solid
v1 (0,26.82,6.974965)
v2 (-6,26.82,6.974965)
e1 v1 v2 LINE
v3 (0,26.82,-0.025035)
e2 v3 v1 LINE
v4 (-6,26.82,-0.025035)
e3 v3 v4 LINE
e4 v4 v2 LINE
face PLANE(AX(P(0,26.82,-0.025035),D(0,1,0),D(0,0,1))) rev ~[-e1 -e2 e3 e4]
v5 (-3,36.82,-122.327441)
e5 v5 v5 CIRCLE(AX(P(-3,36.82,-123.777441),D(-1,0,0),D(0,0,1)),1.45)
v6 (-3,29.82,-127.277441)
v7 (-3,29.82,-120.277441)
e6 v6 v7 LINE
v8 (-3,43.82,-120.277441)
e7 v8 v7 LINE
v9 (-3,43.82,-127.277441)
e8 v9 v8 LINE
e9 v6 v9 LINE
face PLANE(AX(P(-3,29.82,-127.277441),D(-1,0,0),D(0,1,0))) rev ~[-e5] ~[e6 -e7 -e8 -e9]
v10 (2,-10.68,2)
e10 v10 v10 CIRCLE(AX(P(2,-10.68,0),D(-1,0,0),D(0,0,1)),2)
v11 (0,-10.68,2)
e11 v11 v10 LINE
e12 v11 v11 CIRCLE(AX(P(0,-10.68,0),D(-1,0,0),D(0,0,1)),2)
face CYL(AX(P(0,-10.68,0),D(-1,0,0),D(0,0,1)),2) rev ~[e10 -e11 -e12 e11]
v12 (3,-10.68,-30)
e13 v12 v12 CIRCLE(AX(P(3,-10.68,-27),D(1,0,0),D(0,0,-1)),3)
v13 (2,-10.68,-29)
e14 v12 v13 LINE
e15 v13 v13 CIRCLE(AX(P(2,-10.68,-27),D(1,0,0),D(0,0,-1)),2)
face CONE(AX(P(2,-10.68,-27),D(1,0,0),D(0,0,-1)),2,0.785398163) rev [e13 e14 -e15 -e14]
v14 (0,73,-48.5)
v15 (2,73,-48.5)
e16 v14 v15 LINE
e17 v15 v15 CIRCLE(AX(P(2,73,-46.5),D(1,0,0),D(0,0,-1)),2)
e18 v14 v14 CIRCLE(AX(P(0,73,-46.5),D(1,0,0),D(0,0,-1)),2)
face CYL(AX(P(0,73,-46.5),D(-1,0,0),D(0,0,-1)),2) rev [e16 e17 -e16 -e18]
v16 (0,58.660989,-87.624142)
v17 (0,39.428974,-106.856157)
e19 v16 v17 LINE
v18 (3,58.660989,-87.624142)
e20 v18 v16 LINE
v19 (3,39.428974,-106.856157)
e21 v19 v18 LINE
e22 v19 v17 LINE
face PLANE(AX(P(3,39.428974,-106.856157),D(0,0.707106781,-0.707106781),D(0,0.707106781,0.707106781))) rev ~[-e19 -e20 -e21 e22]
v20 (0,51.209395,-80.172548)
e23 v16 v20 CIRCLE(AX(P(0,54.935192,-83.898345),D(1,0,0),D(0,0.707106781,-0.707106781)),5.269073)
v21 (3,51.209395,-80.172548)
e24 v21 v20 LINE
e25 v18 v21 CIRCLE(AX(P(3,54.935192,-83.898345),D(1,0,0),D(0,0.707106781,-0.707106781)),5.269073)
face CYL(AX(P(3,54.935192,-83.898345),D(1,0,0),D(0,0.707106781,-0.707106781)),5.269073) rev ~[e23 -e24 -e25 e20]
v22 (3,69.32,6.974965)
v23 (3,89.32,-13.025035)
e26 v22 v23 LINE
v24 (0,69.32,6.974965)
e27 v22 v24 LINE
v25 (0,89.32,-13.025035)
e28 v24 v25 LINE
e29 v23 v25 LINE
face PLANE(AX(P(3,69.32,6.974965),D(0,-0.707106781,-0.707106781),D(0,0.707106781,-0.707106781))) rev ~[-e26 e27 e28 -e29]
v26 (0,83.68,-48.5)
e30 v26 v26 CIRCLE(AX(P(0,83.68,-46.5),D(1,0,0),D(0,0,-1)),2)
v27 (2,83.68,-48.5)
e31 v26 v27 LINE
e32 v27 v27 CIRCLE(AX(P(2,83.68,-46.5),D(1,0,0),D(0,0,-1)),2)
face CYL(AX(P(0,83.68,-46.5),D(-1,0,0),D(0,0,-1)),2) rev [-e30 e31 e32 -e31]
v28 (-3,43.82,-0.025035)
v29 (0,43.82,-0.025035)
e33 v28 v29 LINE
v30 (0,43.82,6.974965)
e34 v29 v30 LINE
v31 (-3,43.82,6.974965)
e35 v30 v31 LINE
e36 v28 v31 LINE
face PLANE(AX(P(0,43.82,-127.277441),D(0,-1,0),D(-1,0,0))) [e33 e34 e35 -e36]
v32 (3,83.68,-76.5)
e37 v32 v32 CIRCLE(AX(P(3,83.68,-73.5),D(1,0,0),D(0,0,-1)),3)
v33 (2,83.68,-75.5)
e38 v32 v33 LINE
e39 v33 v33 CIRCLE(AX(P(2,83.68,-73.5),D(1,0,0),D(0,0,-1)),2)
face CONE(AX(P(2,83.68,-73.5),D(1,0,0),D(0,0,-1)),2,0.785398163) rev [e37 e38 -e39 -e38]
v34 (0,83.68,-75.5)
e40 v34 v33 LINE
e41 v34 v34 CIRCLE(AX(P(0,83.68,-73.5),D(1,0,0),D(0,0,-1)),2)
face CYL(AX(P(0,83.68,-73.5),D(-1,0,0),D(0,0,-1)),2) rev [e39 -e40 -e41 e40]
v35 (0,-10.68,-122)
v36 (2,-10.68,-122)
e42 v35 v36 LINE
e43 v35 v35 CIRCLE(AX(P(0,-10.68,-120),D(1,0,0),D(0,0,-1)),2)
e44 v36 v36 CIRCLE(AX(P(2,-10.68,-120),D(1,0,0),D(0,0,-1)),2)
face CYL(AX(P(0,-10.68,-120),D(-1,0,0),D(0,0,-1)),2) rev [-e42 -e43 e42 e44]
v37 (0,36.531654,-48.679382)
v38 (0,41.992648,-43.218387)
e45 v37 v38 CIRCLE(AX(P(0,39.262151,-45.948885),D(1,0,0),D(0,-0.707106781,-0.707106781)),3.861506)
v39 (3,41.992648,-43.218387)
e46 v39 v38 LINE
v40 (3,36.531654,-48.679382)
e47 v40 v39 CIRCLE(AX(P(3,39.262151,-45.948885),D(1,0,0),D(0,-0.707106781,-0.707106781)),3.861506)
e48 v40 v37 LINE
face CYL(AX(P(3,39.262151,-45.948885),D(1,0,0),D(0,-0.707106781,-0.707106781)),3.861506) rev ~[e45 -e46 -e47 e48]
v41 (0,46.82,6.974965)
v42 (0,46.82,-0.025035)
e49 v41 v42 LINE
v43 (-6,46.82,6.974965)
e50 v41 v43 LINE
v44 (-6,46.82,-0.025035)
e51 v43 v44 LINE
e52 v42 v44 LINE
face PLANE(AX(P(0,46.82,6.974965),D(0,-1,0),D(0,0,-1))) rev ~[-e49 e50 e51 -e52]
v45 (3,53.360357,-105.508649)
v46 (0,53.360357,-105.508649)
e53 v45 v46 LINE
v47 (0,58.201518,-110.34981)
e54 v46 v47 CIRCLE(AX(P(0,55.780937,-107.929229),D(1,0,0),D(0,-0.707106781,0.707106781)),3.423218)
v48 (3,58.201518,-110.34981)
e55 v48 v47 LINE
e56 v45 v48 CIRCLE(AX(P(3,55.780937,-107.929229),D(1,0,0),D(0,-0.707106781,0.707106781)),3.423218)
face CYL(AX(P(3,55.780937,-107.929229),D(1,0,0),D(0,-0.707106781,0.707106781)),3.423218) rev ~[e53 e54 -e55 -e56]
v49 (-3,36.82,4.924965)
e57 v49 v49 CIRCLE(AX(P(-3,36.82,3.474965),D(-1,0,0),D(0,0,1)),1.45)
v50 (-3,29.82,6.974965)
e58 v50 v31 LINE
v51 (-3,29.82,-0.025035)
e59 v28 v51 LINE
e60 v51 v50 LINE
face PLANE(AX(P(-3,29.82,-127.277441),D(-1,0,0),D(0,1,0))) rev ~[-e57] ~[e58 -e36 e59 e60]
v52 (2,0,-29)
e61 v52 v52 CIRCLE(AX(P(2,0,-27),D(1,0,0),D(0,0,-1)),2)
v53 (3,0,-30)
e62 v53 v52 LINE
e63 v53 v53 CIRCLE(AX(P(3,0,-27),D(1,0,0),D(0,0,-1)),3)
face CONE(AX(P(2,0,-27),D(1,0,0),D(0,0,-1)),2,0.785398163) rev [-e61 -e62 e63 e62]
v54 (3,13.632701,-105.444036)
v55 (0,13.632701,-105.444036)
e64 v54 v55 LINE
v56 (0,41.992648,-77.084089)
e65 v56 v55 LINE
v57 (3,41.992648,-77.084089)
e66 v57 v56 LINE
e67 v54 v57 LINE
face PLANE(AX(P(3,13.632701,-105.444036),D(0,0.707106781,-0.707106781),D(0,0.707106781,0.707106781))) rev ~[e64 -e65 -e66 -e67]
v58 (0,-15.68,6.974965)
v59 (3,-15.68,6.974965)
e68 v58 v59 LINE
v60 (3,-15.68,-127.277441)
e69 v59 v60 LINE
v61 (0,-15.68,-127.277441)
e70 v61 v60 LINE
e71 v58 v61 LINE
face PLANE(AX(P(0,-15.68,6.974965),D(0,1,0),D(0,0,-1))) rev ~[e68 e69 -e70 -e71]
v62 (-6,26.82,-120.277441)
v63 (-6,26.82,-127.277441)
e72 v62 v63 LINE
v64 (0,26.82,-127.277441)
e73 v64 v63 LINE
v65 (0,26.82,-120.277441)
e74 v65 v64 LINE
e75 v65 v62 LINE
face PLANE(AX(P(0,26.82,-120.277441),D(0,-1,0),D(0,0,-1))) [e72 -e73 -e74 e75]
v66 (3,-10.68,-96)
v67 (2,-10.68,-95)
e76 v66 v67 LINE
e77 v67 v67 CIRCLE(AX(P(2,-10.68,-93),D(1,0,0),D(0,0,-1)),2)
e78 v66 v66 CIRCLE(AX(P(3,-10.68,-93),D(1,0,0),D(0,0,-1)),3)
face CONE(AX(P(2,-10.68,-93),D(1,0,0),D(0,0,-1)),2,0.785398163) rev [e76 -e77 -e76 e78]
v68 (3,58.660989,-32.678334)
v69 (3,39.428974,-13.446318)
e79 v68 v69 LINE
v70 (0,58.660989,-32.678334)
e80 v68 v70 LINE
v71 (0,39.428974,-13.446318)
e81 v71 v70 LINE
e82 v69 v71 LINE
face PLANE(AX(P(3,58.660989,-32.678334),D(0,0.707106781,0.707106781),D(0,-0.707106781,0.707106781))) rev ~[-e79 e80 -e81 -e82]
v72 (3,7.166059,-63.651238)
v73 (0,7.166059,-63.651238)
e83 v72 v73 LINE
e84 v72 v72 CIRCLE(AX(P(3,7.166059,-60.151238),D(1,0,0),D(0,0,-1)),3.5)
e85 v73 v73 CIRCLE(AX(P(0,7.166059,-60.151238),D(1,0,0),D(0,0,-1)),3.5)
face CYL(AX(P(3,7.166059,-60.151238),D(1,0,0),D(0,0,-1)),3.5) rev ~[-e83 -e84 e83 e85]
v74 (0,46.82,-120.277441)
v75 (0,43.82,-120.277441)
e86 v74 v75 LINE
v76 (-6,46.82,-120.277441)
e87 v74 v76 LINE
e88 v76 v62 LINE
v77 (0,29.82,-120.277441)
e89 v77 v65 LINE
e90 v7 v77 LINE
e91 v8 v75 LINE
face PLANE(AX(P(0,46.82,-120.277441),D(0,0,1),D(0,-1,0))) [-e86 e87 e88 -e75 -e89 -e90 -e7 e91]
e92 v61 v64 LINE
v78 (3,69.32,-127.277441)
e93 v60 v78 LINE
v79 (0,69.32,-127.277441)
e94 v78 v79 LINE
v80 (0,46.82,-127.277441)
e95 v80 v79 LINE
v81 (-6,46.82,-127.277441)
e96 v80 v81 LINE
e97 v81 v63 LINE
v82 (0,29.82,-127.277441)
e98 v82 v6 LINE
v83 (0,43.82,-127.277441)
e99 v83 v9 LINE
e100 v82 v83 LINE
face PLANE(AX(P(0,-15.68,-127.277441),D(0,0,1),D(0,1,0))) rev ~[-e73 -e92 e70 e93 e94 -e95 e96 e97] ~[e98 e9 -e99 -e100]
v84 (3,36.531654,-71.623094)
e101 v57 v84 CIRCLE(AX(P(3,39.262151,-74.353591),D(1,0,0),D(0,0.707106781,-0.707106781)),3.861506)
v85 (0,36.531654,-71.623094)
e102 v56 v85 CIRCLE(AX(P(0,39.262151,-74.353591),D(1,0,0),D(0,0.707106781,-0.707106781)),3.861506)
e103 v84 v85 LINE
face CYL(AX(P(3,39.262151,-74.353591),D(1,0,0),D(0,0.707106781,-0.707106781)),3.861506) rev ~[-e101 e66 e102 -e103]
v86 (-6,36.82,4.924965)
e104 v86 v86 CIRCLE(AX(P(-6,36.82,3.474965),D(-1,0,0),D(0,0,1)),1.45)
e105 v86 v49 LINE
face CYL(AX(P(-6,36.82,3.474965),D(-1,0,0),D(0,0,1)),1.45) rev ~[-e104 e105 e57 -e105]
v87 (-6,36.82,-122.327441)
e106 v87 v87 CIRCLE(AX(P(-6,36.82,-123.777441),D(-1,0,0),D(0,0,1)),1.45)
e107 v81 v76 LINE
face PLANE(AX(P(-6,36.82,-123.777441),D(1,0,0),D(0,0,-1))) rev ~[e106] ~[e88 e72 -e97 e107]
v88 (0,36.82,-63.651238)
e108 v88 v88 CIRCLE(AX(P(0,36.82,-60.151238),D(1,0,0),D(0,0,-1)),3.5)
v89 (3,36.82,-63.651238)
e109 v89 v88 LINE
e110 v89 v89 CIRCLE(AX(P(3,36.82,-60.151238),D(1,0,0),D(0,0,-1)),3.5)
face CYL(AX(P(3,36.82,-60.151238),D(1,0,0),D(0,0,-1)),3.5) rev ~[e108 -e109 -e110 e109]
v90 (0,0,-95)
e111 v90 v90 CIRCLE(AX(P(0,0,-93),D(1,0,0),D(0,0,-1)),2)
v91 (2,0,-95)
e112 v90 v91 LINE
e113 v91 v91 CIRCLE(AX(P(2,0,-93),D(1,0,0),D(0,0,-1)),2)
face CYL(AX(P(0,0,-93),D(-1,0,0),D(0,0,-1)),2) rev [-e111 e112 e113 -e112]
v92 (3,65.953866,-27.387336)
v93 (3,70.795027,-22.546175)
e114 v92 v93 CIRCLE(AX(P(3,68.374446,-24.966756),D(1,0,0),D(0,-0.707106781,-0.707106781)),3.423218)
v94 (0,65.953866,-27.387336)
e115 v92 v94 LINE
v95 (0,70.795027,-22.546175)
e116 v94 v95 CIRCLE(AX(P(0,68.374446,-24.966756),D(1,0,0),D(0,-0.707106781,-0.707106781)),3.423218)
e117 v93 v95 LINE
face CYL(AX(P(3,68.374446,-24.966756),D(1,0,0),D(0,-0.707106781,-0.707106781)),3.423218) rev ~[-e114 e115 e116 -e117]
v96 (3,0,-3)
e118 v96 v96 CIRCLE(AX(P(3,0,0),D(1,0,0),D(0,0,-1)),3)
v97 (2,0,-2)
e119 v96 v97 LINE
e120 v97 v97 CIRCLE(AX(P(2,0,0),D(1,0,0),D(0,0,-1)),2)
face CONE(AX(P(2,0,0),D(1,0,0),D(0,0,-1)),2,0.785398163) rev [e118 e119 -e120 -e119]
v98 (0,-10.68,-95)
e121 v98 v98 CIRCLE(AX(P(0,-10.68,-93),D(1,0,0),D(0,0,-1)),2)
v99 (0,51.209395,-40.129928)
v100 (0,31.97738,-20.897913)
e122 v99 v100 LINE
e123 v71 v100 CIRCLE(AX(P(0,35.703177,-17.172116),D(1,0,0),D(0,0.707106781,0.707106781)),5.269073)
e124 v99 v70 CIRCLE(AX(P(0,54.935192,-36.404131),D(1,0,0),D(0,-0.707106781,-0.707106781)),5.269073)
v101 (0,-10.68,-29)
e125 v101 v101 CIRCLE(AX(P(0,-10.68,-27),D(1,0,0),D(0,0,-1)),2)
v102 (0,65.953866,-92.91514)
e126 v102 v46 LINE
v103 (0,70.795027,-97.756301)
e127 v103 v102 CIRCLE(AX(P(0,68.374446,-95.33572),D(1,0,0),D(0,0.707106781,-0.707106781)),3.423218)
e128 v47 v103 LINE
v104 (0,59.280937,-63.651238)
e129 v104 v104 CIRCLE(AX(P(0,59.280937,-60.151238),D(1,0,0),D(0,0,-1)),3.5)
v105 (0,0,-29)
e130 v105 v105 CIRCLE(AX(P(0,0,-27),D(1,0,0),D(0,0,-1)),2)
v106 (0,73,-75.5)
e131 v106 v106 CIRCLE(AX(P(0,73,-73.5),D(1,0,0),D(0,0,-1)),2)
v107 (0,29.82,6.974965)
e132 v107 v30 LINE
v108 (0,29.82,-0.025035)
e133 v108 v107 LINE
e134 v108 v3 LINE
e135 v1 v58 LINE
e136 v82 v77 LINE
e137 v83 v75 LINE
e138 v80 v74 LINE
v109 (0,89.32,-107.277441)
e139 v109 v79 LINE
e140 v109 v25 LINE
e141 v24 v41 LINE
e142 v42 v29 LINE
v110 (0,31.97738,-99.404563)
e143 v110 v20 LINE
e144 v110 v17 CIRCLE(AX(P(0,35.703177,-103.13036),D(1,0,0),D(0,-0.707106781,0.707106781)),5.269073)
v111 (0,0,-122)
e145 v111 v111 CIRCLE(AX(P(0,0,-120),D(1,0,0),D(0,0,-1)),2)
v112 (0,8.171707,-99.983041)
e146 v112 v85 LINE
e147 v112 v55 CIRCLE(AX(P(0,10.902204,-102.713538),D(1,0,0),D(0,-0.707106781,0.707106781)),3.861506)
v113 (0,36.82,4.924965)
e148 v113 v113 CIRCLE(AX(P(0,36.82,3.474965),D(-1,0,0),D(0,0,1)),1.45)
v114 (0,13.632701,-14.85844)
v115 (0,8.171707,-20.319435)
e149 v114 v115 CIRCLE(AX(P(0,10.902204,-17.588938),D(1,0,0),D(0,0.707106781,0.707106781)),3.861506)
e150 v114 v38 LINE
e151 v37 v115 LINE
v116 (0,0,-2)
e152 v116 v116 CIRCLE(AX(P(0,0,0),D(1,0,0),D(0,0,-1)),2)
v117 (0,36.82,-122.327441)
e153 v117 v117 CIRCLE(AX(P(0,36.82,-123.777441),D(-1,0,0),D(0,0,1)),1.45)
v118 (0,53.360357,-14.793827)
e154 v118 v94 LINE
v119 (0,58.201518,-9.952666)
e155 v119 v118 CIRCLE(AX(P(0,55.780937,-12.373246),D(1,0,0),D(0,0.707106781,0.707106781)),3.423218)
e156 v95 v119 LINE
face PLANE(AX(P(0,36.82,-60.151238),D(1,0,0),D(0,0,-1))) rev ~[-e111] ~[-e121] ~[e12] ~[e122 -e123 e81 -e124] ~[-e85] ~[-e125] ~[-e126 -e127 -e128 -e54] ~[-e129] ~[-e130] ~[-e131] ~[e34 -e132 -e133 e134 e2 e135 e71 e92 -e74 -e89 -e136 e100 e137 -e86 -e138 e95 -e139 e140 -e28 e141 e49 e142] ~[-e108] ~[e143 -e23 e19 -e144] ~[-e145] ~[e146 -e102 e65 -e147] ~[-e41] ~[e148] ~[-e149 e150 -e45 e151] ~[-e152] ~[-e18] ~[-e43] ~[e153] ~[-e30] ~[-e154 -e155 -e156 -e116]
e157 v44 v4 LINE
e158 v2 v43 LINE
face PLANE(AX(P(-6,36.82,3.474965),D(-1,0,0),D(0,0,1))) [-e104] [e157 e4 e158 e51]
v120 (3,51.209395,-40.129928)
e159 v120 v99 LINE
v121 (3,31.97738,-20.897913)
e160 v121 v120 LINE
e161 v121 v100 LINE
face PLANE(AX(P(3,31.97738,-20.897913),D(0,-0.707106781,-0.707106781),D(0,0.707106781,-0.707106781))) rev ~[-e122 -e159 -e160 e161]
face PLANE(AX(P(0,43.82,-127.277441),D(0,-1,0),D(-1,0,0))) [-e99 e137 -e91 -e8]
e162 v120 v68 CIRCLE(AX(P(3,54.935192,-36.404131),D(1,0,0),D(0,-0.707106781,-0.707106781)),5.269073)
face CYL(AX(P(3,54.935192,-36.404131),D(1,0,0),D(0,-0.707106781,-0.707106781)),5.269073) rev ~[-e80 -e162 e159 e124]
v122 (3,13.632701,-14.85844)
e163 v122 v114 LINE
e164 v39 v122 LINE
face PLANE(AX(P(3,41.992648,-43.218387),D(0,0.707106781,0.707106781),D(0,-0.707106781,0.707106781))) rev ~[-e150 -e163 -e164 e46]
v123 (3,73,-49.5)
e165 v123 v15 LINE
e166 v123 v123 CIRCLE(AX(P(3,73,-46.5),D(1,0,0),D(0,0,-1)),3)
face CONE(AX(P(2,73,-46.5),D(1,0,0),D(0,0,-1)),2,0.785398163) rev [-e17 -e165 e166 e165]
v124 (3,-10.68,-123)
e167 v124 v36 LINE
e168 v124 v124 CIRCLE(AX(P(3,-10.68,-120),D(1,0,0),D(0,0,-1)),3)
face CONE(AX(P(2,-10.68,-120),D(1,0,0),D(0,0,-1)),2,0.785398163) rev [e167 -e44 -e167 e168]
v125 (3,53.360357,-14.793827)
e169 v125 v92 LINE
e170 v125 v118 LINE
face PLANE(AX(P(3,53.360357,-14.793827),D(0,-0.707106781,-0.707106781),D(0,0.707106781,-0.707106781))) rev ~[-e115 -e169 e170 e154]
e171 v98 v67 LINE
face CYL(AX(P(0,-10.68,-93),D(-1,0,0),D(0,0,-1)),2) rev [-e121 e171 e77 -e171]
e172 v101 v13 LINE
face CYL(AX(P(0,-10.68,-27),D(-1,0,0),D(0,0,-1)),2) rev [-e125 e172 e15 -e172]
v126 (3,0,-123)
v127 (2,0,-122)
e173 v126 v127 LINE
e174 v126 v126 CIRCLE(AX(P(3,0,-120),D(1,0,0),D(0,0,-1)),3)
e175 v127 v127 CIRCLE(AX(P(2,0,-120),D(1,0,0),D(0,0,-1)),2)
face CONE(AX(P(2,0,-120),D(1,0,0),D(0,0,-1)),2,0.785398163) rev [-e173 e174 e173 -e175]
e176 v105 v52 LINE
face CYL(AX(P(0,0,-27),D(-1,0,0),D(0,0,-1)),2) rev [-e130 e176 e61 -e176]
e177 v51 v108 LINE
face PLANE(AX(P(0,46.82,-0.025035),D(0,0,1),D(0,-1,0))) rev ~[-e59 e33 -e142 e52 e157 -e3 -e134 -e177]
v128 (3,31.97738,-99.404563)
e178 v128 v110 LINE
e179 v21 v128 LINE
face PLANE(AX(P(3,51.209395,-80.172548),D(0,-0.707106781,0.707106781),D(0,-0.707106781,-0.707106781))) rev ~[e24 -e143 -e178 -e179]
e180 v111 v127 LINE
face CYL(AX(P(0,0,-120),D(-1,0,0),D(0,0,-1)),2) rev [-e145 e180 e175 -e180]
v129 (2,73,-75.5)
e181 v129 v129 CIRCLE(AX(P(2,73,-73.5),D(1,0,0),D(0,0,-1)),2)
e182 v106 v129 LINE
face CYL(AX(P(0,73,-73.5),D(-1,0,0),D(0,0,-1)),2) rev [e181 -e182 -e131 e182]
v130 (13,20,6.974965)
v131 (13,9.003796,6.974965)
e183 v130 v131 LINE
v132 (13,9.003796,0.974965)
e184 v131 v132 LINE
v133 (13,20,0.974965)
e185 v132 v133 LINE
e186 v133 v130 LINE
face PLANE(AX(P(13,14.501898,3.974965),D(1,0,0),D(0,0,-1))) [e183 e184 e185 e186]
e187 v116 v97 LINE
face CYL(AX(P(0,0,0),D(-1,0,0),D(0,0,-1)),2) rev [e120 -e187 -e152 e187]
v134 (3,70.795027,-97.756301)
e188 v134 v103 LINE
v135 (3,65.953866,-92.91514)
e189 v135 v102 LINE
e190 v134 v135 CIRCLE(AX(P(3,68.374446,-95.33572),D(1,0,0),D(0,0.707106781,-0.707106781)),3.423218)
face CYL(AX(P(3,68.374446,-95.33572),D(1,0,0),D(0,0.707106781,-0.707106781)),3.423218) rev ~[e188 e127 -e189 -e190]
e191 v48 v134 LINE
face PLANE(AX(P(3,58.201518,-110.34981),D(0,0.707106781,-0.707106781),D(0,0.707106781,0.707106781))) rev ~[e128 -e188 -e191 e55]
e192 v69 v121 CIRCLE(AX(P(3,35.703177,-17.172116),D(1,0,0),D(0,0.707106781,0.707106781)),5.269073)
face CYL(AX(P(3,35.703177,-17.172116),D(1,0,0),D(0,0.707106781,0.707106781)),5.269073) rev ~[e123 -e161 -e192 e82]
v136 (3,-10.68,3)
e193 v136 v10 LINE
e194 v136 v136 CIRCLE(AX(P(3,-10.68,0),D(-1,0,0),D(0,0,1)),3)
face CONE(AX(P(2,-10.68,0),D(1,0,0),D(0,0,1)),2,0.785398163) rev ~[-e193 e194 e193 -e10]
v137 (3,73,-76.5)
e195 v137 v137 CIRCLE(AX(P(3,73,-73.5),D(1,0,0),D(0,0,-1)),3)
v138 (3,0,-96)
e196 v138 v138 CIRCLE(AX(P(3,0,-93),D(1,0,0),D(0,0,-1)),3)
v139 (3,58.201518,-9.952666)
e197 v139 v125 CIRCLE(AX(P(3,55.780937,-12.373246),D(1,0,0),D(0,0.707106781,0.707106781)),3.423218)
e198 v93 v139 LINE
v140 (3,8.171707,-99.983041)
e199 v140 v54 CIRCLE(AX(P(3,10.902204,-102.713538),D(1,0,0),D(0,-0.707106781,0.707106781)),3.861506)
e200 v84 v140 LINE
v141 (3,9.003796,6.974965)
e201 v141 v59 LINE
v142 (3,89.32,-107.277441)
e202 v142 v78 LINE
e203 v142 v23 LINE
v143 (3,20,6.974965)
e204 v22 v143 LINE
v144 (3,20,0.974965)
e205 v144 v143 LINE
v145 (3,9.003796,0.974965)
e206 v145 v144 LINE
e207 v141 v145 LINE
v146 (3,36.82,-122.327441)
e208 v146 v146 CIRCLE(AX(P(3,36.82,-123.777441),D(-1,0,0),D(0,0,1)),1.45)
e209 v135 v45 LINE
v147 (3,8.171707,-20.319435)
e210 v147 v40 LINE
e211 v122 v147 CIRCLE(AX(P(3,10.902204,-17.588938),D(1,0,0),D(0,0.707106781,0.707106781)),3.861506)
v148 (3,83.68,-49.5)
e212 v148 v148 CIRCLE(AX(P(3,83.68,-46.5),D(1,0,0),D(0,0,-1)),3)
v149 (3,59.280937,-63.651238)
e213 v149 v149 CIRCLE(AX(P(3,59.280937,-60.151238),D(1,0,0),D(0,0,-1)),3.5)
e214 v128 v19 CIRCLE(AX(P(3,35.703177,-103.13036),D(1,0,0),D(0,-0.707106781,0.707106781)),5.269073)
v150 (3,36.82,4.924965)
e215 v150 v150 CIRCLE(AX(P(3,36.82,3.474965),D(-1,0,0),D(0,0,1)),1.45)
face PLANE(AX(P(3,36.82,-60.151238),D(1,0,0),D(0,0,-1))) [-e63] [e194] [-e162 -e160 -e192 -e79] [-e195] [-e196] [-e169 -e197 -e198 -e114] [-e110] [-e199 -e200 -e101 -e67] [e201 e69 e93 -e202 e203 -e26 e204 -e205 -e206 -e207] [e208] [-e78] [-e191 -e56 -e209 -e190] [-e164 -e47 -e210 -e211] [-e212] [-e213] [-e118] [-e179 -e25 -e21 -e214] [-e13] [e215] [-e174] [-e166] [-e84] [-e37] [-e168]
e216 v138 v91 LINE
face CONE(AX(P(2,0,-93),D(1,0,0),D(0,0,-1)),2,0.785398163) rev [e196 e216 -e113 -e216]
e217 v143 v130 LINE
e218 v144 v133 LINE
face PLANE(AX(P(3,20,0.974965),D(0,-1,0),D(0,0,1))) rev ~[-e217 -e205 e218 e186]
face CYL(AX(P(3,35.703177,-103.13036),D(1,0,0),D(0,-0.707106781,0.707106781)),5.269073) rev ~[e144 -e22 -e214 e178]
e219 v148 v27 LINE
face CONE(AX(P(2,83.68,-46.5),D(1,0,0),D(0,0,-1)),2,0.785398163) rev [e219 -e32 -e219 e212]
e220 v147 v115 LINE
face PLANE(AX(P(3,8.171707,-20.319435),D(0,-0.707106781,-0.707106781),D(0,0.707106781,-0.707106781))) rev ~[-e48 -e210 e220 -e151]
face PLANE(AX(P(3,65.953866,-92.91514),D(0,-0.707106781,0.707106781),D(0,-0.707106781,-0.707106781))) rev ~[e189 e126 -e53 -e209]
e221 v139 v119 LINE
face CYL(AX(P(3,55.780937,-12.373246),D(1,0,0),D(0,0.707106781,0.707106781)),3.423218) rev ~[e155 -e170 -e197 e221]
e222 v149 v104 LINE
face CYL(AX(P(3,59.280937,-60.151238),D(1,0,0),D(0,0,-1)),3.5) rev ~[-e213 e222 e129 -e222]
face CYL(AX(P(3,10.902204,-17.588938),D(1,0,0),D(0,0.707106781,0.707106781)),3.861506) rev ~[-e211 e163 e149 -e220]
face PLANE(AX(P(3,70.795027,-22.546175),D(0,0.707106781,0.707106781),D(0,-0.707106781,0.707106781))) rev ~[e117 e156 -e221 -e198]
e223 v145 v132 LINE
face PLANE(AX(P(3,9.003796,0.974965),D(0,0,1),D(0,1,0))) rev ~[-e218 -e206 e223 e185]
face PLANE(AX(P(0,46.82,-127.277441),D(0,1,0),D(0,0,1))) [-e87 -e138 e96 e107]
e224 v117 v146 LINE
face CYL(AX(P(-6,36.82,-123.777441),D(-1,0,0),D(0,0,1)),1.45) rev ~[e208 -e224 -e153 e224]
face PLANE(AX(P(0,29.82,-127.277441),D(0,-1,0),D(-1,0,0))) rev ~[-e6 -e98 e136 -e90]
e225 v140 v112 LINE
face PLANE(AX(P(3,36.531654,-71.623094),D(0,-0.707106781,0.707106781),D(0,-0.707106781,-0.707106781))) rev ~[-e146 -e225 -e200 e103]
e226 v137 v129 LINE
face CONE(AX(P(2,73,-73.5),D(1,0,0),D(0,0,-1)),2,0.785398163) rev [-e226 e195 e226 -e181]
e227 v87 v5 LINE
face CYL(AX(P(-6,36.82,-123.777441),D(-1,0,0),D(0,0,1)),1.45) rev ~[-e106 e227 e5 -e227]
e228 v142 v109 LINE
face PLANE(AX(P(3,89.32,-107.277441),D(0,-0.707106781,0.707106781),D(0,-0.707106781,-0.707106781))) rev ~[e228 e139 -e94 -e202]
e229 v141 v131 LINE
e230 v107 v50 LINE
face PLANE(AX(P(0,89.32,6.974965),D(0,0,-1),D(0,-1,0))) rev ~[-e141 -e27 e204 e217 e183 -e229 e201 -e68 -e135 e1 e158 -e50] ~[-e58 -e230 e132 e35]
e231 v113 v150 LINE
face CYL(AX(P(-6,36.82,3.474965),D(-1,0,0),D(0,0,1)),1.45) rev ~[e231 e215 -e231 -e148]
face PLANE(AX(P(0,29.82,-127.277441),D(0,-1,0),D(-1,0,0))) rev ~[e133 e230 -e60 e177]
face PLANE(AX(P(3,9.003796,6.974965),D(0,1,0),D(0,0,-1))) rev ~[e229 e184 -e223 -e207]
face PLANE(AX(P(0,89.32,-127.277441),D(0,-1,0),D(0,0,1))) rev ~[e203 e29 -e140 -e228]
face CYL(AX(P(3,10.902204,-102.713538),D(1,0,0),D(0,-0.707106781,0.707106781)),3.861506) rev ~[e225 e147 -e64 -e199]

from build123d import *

# Parameters (mm, degrees)
SKETCH_1_R          = 2
EXTRUDE_1_DEPTH     = 3
EXTRUDE_2_DEPTH     = 10
SKETCH_9_R          = 3.5
CUT_EXTRUDE_3_DEPTH = 4
CHAMFER_1_SIZE      = 1
EXTRUDE_3_DEPTH     = 6
SKETCH_11_W         = 3
SKETCH_11_H         = 14
CUT_EXTRUDE_4_DEPTH = 162.773826789
SKETCH_12_R         = 1.45
CUT_EXTRUDE_5_DEPTH = 157.648043168


with BuildPart() as part:
    # Эскиз1 → Бобышка-Вытянуть1 (new body)
    with BuildSketch(Plane(origin=(0, 0, 0), x_dir=(0, 0, -1), z_dir=(1, 0, 0))):
        Polygon((-6.974965275, 89.32), (-6.974965275, -10.68), (-6.974965275, -15.68), (0, -15.68), (127.277441161, -15.68), (127.277441161, 89.32), align=None)
        with BuildLine():
            ThreePointArc((2, -10.68), (0, -12.68), (-2, -10.68))
            ThreePointArc((-2, -10.68), (0, -8.68), (2, -10.68))
        make_face(mode=Mode.SUBTRACT)
        Circle(SKETCH_1_R, mode=Mode.SUBTRACT)
        with Locations((27, -10.68)):
            Circle(SKETCH_1_R, mode=Mode.SUBTRACT)
        with Locations((27, 0)):
            Circle(SKETCH_1_R, mode=Mode.SUBTRACT)
        with Locations((93, -10.68)):
            Circle(SKETCH_1_R, mode=Mode.SUBTRACT)
        with Locations((93, 0)):
            Circle(SKETCH_1_R, mode=Mode.SUBTRACT)
        with Locations((120, -10.68)):
            Circle(SKETCH_1_R, mode=Mode.SUBTRACT)
        with Locations((120, 0)):
            Circle(SKETCH_1_R, mode=Mode.SUBTRACT)
        with Locations((46.5, 73)):
            Circle(SKETCH_1_R, mode=Mode.SUBTRACT)
        with Locations((46.5, 83.68)):
            Circle(SKETCH_1_R, mode=Mode.SUBTRACT)
        with Locations((73.5, 73)):
            Circle(SKETCH_1_R, mode=Mode.SUBTRACT)
        with Locations((73.5, 83.68)):
            Circle(SKETCH_1_R, mode=Mode.SUBTRACT)
    extrude(amount=EXTRUDE_1_DEPTH)

    # Эскиз2 → Бобышка-Вытянуть2 (add)
    with BuildSketch(Plane(origin=(3, 0, 0), x_dir=(0, 0, -1), z_dir=(1, 0, 0))):
        Polygon((-6.974965275, 20), (-6.974965275, 9.003796157), (-4.947379944, 9.003796157), (-0.974965275, 9.003796157), (-0.974965275, 20), (-4.947379944, 20), align=None)
    extrude(amount=EXTRUDE_2_DEPTH)

    # Эскиз9 → Вырез-Вытянуть3 (cut)
    with BuildSketch(Plane(origin=(3, 0, 0), x_dir=(0, 0, -1), z_dir=(1, 0, 0))):
        with BuildLine():
            Line((22.546175163, 70.795026635), (9.952666032, 58.201517504))
            ThreePointArc((9.952666032, 58.201517504), (9.952666032, 53.360356634), (14.793826902, 53.360356634))
            Line((14.793826902, 53.360356634), (27.387336033, 65.953865765))
            ThreePointArc((27.387336033, 65.953865765), (27.387336033, 70.795026635), (22.546175163, 70.795026635))
        make_face()
        with BuildLine():
            Line((32.678333733, 58.660989456), (13.446318476, 39.428974199))
            ThreePointArc((13.446318476, 39.428974199), (13.446318476, 31.977379799), (20.897912876, 31.977379799))
            Line((20.897912876, 31.977379799), (40.129928133, 51.209395056))
            ThreePointArc((40.129928133, 51.209395056), (40.129928133, 58.660989456), (32.678333733, 58.660989456))
        make_face()
        with BuildLine():
            Line((43.218387294, 41.992648329), (14.858440337, 13.632701372))
            ThreePointArc((14.858440337, 13.632701372), (14.858440337, 8.171706676), (20.319435032, 8.171706676))
            Line((20.319435032, 8.171706676), (48.67938199, 36.531653634))
            ThreePointArc((48.67938199, 36.531653634), (48.67938199, 41.992648329), (43.218387294, 41.992648329))
        make_face()
        with Locations((60.151237943, 7.166059051)):
            Circle(SKETCH_9_R)
        Polygon((-6.974965275, 69.32), (13.025034725, 89.32), (-6.974965275, 89.32), align=None)
        Polygon((127.277441161, 89.32), (107.277441161, 89.32), (127.277441161, 69.32), align=None)
        with Locations((60.151237943, 59.280937069)):
            Circle(SKETCH_9_R)
        with Locations((60.151237943, 36.82)):
            Circle(SKETCH_9_R)
        with BuildLine():
            ThreePointArc((99.983040853, 8.171706676), (105.444035549, 8.171706676), (105.444035549, 13.632701372))
            Line((105.444035549, 13.632701372), (77.084088591, 41.992648329))
            ThreePointArc((77.084088591, 41.992648329), (71.623093896, 41.992648329), (71.623093896, 36.531653634))
            Line((71.623093896, 36.531653634), (99.983040853, 8.171706676))
        make_face()
        with BuildLine():
            ThreePointArc((99.40456301, 31.977379799), (106.85615741, 31.977379799), (106.85615741, 39.428974199))
            Line((106.85615741, 39.428974199), (87.624142153, 58.660989456))
            ThreePointArc((87.624142153, 58.660989456), (80.172547753, 58.660989456), (80.172547753, 51.209395056))
            Line((80.172547753, 51.209395056), (99.40456301, 31.977379799))
        make_face()
        with BuildLine():
            ThreePointArc((105.508648984, 53.360356634), (110.349809854, 53.360356634), (110.349809854, 58.201517504))
            Line((110.349809854, 58.201517504), (97.756300723, 70.795026635))
            ThreePointArc((97.756300723, 70.795026635), (92.915139853, 70.795026635), (92.915139853, 65.953865765))
            Line((92.915139853, 65.953865765), (105.508648984, 53.360356634))
        make_face()
    extrude(amount=-CUT_EXTRUDE_3_DEPTH, mode=Mode.SUBTRACT)

    # Фаска1
    chamfer_1_edges = [part.edges().sort_by_distance(p)[0] for p in [
        (3, -10.68, -118),
        (3, 0, -118),
        (3, -10.68, -91),
        (3, 0, -91),
        (3, 0, 2),
        (3, -10.68, 2),
        (3, -10.68, -25),
        (3, 0, -25),
        (3, 73, -44.5),
        (3, 73, -71.5),
        (3, 83.68, -71.5),
        (3, 83.68, -44.5),
    ]]
    chamfer(chamfer_1_edges, length=CHAMFER_1_SIZE)

    # Эскиз10 → Бобышка-Вытянуть3 (add)
    with BuildSketch(Plane.ZY):
        Polygon((-127.277441161, 36.82), (-127.277441161, 46.82), (-120.277441161, 46.82), (-120.277441161, 26.82), (-127.277441161, 26.82), align=None)
        Polygon((-0.025034725, 26.82), (6.974965275, 26.82), (6.974965275, 36.82), (6.974965275, 46.82), (-0.025034725, 46.82), align=None)
    extrude(amount=EXTRUDE_3_DEPTH)

    # Эскиз11 → Вырез-Вытянуть4 (cut, through all)
    with BuildSketch(Plane(origin=(0, 0, -127.277441161), x_dir=(-1, 0, 0), z_dir=(0, 0, -1))):
        with Locations((1.5, 36.82)):
            Rectangle(SKETCH_11_W, SKETCH_11_H)
    extrude(amount=-CUT_EXTRUDE_4_DEPTH, mode=Mode.SUBTRACT)

    # Эскиз12 → Вырез-Вытянуть5 (cut, through all)
    with BuildSketch(Plane.ZY.offset(6)):
        with Locations((-123.777441161, 36.82)):
            Circle(SKETCH_12_R)
        with Locations((3.474965275, 36.82)):
            Circle(SKETCH_12_R)
    extrude(amount=-CUT_EXTRUDE_5_DEPTH, mode=Mode.SUBTRACT)


solid = part.part
